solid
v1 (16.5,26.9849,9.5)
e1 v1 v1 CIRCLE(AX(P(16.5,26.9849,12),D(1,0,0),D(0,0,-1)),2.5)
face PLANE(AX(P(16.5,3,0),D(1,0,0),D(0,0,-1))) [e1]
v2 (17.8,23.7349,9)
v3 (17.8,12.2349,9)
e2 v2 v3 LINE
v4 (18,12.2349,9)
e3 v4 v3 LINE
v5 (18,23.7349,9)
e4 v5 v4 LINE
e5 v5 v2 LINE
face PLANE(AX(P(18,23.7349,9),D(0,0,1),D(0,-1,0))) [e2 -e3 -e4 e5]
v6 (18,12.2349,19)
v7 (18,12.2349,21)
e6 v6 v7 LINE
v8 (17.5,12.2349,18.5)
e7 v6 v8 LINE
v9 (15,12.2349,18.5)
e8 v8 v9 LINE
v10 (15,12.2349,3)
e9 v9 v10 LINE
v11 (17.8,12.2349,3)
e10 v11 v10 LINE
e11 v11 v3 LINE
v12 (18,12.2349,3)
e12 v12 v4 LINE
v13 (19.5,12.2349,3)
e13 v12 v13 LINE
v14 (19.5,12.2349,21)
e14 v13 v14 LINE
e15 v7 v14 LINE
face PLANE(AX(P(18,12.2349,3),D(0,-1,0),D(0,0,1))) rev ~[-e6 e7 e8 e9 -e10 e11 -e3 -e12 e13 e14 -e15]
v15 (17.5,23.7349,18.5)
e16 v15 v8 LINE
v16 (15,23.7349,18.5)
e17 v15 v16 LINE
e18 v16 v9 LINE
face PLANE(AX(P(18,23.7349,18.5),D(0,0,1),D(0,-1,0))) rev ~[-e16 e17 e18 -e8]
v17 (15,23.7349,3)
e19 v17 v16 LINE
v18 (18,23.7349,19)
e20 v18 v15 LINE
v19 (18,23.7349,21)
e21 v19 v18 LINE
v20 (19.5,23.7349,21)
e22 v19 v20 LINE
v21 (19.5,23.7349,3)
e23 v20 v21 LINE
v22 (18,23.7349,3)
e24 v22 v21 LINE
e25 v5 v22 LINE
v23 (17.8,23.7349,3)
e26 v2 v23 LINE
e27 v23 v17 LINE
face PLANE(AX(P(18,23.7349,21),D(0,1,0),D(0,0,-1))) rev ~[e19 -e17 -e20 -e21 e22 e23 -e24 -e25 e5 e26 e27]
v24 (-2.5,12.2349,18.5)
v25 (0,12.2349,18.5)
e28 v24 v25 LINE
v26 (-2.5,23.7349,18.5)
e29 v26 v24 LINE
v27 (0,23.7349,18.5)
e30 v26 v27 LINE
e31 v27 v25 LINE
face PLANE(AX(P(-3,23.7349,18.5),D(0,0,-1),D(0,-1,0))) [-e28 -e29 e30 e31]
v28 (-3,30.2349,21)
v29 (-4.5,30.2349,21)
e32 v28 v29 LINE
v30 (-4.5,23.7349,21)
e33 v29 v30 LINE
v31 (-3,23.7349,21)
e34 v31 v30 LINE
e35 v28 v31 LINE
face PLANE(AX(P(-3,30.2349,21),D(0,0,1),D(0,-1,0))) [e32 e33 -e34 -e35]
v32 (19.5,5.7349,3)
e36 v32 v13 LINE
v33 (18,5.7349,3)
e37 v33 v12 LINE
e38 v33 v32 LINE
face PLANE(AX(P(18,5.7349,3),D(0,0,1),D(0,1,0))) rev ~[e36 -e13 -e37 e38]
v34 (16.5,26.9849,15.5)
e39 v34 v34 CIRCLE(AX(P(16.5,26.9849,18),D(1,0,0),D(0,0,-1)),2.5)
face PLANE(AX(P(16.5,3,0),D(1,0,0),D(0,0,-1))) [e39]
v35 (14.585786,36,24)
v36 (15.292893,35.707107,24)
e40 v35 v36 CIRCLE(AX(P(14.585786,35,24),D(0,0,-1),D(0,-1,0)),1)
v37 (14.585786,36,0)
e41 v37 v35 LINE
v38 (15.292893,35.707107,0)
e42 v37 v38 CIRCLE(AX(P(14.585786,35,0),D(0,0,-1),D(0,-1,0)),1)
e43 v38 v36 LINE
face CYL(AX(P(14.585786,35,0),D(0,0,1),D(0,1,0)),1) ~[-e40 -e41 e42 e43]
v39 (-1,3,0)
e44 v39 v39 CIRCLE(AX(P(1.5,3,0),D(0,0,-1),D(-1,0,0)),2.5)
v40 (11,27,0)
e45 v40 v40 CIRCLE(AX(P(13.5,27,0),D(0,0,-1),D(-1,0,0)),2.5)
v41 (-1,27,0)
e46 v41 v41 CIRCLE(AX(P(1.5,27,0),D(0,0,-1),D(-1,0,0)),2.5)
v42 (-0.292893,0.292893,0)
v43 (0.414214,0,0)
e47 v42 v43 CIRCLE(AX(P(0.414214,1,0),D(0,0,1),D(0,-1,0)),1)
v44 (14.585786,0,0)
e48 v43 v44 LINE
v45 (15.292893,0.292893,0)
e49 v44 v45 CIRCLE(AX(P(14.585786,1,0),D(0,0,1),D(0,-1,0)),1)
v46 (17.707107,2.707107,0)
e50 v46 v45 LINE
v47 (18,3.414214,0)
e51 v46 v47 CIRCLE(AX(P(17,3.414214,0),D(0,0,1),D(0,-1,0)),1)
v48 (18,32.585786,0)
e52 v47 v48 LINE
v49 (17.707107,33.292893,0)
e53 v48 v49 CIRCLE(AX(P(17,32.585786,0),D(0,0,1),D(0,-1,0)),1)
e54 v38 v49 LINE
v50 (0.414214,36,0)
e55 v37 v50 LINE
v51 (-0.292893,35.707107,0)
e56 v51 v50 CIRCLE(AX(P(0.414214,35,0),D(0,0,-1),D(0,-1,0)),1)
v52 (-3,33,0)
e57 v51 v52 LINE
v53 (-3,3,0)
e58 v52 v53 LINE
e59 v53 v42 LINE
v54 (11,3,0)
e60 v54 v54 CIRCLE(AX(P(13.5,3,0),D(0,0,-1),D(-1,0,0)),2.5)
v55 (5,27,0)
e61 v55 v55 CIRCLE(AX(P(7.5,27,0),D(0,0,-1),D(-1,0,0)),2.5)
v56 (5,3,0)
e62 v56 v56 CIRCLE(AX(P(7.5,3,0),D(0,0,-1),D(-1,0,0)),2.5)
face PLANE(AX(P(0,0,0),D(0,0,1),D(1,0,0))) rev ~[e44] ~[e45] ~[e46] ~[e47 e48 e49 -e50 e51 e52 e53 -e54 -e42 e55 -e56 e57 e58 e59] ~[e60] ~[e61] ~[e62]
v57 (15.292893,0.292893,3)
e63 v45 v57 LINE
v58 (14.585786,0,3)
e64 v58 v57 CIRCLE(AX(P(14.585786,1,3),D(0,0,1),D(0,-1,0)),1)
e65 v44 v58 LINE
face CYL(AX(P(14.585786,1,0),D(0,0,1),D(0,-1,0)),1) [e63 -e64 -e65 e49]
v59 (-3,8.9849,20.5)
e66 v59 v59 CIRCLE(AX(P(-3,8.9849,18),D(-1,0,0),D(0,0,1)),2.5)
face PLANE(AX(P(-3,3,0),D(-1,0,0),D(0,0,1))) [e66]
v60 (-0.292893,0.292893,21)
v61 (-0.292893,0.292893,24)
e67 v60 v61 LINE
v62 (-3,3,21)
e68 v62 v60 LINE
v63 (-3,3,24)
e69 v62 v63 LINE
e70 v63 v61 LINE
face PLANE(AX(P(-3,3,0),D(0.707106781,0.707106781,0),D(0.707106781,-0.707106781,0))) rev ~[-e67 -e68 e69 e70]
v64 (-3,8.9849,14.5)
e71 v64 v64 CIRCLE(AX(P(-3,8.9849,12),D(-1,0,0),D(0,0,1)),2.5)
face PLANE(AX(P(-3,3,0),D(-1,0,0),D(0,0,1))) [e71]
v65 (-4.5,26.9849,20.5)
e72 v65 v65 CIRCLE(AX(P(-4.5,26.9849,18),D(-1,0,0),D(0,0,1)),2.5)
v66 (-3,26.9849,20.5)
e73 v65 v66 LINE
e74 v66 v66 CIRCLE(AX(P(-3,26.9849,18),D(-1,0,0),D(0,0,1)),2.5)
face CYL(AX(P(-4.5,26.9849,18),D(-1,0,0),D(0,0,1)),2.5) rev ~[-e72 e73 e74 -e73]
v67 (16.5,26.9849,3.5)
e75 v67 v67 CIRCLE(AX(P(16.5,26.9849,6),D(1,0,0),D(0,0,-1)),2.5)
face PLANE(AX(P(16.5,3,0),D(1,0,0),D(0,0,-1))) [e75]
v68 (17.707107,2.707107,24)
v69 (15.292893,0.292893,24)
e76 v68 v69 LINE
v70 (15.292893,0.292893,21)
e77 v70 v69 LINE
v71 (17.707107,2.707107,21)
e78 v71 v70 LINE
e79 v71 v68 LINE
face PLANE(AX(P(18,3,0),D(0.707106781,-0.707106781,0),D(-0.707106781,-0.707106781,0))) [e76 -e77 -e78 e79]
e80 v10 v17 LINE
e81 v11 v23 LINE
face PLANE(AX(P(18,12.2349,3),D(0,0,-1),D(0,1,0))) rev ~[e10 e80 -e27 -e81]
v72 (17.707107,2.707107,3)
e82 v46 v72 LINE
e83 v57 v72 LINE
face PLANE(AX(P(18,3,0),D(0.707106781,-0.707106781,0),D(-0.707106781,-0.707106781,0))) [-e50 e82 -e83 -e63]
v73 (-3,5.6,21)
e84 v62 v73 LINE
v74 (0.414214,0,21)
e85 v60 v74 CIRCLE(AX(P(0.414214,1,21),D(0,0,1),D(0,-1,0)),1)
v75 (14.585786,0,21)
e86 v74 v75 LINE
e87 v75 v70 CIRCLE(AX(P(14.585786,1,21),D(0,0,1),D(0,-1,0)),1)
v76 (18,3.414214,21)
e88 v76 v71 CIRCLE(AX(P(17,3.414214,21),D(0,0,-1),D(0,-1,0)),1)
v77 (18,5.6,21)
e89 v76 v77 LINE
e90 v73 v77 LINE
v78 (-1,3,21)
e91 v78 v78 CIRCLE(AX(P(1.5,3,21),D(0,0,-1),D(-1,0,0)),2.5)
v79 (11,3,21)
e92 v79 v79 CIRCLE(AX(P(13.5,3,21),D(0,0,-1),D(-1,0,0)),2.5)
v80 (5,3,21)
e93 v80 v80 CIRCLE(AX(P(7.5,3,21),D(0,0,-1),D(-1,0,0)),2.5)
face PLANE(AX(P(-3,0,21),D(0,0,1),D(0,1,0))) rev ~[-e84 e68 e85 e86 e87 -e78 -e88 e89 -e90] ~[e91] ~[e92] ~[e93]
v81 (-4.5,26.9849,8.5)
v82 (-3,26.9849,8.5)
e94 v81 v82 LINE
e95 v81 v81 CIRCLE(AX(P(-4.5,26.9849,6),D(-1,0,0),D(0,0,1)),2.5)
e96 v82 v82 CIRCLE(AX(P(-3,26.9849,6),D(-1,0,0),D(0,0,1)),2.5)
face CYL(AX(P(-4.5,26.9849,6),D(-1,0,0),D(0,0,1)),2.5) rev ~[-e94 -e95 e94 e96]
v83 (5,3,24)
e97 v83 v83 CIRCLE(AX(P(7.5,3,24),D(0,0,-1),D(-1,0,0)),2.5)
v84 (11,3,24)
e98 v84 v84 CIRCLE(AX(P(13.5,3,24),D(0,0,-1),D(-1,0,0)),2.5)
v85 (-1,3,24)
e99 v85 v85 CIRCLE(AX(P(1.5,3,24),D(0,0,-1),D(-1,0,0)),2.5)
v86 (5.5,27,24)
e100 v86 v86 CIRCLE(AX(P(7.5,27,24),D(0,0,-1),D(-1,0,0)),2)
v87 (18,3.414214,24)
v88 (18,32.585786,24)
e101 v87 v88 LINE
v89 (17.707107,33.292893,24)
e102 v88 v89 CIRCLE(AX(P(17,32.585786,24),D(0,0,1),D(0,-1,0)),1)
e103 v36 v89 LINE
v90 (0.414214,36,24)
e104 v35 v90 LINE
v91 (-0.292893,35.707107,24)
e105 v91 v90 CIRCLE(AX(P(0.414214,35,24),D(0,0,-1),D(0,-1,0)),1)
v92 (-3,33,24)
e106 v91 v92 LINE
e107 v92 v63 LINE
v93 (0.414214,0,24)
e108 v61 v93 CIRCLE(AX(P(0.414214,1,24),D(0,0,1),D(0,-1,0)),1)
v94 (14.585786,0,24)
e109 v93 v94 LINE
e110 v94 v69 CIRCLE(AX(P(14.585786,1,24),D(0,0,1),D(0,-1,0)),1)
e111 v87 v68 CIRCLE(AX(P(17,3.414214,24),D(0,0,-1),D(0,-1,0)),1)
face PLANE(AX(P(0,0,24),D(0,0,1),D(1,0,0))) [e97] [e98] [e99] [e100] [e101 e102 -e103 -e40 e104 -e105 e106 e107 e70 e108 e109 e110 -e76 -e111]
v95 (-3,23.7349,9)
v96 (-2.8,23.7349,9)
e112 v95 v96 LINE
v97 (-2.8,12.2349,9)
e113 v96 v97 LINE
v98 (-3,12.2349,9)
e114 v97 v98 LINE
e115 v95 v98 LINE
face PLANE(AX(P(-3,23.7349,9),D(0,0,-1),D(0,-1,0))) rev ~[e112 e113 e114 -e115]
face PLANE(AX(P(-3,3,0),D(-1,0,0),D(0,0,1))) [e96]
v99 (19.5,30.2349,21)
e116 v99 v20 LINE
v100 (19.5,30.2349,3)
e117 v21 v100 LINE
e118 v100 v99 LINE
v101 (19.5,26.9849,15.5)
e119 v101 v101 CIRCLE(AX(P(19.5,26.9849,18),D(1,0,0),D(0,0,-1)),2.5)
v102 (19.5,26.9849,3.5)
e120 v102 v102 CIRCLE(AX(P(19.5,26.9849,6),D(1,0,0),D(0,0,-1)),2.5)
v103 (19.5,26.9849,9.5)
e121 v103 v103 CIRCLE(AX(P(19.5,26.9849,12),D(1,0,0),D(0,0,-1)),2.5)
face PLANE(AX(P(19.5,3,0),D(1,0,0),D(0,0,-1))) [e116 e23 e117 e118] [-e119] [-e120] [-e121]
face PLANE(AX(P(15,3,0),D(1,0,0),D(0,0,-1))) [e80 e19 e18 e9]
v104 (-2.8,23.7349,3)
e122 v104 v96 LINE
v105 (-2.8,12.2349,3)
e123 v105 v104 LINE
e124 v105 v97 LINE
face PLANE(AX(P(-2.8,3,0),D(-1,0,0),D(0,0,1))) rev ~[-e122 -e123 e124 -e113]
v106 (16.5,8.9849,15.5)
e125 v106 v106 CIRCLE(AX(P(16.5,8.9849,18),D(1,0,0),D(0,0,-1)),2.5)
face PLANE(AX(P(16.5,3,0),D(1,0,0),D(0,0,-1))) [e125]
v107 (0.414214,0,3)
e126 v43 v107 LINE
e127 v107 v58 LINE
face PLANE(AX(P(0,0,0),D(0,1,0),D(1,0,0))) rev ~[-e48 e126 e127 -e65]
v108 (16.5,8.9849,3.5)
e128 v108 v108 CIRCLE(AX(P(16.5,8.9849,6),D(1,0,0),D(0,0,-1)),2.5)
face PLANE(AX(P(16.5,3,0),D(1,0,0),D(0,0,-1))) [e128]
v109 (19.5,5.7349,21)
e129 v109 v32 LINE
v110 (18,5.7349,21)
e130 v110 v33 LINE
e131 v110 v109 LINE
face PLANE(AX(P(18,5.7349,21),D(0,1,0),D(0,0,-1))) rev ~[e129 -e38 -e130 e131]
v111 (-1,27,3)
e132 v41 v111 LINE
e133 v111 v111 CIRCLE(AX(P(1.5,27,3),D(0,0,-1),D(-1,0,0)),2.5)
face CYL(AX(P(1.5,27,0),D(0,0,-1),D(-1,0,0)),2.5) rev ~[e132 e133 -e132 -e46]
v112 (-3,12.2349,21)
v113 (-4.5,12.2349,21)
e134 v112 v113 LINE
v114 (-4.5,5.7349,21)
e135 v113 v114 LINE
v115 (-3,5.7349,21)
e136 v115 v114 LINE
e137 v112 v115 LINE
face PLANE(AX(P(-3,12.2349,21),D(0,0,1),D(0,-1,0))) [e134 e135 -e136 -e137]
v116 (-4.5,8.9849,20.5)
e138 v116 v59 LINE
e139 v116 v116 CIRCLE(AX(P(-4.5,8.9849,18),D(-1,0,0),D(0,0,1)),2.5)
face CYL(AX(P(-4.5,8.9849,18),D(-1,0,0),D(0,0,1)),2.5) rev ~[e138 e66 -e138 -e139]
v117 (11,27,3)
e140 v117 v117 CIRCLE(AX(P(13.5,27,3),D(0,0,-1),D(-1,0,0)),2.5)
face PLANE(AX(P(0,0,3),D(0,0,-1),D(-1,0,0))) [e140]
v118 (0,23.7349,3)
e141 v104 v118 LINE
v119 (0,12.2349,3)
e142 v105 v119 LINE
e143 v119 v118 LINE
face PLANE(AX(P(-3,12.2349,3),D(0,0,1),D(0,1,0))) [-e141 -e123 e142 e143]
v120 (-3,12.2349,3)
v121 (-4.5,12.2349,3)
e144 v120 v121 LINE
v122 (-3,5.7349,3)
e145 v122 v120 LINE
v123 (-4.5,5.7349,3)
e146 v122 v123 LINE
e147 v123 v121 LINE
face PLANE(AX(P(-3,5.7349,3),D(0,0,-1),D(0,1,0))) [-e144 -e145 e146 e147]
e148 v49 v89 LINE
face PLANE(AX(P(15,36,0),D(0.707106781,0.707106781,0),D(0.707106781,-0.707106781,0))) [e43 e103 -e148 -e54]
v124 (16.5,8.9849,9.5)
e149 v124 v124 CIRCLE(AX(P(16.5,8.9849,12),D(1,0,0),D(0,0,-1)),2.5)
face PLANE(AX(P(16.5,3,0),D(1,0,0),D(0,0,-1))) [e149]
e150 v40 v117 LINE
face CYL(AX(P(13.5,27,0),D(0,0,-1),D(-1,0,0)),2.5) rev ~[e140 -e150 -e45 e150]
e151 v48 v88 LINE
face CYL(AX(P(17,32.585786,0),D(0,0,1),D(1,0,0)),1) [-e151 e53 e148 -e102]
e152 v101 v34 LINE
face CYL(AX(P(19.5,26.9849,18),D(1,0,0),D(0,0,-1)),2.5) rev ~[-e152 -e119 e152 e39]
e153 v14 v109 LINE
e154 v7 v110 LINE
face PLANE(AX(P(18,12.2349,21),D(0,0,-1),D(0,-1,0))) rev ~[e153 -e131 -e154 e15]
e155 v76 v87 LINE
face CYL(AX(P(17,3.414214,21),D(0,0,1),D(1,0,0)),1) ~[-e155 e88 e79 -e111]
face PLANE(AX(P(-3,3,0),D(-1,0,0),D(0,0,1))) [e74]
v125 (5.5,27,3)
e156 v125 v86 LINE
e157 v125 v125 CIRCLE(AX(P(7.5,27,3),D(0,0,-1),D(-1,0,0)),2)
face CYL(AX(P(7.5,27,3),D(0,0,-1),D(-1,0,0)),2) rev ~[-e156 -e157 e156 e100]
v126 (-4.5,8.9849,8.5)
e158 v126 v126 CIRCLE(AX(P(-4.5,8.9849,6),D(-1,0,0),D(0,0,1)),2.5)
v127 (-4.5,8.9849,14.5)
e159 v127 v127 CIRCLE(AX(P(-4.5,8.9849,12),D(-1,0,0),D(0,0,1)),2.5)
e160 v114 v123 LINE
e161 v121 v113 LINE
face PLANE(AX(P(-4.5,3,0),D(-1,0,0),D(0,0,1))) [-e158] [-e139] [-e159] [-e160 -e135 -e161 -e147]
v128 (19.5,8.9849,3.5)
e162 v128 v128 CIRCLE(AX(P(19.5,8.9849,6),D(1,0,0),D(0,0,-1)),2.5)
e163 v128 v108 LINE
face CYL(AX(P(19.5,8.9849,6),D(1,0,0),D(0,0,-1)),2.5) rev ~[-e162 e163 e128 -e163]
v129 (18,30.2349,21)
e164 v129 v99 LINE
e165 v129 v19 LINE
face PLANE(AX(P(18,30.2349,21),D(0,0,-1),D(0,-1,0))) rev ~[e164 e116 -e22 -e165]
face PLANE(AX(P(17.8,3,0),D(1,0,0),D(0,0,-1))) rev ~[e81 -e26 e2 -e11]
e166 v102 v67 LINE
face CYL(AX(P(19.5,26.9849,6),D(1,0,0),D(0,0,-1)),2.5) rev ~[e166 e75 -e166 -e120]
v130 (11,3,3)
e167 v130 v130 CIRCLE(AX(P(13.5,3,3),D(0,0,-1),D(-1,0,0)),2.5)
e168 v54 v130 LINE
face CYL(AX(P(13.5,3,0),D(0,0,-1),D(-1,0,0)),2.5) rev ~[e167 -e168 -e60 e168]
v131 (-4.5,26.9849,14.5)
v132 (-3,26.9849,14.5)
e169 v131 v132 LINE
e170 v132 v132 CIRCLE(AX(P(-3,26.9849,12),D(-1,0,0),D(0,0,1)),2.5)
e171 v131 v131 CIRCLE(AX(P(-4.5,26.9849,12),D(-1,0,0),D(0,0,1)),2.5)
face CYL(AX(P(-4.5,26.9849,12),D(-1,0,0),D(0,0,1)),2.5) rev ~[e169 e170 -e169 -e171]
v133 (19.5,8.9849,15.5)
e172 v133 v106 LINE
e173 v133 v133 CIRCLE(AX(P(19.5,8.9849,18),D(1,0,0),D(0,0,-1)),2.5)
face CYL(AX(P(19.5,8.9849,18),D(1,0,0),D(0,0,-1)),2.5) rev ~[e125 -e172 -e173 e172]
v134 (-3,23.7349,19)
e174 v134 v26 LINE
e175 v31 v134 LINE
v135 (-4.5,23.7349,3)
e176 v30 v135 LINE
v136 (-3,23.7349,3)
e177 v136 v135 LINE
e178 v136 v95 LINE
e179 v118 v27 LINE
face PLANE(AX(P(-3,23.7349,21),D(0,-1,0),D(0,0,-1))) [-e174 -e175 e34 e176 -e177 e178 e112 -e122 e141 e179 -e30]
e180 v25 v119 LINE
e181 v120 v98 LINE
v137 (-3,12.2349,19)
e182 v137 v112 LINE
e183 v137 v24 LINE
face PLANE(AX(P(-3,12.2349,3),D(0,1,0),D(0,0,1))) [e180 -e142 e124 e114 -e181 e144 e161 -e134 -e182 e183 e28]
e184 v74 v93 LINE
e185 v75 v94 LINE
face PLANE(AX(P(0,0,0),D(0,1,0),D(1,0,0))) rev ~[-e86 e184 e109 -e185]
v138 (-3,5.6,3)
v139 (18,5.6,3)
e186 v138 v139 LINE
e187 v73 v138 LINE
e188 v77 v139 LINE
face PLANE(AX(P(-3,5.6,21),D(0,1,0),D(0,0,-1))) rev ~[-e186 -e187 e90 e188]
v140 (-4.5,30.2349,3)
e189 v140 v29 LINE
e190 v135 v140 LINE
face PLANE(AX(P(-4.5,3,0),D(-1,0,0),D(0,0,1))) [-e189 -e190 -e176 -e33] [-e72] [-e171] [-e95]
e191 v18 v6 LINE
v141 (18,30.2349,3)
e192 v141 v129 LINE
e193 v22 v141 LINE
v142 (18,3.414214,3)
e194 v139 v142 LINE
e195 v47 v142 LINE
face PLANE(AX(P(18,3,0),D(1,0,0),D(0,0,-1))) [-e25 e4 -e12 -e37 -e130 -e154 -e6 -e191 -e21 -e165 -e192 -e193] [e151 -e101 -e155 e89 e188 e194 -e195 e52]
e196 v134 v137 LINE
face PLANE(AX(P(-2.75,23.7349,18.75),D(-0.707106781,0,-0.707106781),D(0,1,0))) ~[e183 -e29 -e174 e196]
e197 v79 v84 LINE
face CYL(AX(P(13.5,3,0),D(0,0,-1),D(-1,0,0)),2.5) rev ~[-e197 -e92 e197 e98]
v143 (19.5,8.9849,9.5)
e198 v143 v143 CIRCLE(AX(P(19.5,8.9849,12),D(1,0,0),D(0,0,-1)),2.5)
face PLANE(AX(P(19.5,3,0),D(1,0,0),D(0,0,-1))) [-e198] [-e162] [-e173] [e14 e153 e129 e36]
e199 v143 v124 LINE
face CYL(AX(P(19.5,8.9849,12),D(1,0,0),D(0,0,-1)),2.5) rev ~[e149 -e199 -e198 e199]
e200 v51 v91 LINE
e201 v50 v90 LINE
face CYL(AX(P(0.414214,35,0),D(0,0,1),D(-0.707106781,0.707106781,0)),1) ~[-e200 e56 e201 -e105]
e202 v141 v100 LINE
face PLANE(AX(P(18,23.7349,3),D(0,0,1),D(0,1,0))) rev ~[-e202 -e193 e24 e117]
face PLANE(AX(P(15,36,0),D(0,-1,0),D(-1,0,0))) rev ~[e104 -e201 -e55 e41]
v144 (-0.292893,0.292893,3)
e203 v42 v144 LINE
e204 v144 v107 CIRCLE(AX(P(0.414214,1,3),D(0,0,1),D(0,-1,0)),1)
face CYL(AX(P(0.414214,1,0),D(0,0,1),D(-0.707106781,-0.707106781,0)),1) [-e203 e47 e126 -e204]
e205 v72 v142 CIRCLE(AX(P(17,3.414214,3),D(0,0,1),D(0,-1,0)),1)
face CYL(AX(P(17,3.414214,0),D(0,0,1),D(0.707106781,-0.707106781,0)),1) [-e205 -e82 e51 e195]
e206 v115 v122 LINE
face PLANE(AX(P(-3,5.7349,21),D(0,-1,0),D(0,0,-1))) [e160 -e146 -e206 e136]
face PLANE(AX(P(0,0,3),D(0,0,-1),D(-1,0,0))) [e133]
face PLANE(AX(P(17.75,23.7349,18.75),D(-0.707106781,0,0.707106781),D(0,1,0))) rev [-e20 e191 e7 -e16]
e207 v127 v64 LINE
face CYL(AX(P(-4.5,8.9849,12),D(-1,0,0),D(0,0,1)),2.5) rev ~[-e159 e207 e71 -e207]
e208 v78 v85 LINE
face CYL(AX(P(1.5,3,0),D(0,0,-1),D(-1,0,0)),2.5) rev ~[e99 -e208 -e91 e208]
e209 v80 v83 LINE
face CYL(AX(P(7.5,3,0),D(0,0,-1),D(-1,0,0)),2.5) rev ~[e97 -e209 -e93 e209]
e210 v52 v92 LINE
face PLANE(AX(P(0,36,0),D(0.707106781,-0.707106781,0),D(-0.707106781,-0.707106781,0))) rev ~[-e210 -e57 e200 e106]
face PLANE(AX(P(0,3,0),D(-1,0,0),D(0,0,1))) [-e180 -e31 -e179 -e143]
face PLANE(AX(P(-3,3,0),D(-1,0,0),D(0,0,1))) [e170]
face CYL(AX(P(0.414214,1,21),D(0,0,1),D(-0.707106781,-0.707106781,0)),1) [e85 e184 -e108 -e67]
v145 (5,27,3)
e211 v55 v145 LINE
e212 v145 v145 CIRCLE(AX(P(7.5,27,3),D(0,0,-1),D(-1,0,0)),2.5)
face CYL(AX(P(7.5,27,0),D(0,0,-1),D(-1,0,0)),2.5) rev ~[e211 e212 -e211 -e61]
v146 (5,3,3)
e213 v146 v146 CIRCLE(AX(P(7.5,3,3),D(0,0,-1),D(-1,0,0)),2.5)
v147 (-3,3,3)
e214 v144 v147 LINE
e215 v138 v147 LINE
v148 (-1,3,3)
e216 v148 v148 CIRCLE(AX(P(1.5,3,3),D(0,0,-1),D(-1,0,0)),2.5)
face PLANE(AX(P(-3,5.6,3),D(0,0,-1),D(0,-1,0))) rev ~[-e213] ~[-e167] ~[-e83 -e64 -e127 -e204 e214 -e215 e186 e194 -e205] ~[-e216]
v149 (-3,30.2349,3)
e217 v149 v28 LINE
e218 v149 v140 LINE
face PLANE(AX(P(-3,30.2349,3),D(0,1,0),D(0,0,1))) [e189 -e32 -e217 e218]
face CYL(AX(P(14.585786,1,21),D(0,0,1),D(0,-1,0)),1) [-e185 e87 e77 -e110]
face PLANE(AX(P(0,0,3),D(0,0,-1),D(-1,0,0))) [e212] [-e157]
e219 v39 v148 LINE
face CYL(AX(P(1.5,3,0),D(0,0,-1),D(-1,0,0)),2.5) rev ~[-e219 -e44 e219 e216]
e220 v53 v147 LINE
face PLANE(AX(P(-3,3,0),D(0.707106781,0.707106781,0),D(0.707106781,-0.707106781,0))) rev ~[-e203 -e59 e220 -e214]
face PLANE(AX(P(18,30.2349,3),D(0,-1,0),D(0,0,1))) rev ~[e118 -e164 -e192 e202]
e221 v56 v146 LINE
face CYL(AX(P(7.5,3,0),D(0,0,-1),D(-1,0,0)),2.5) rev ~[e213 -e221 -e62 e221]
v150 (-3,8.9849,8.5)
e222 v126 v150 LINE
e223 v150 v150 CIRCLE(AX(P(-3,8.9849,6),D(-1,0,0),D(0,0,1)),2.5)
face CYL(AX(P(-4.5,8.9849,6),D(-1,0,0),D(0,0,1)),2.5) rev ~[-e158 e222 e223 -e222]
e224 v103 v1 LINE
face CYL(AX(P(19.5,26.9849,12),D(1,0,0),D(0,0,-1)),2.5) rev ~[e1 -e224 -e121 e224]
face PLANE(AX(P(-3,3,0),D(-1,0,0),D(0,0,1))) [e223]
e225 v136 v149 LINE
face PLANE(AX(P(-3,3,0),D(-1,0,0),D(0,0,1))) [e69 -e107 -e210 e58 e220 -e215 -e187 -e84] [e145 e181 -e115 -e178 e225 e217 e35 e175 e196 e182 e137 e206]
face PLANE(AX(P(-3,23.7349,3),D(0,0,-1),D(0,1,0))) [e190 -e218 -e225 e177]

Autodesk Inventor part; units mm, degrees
ref_plane "YZ Plane" through (0, 0, 0) normal (1, 0, 0) x (0, 1, 0)
ref_plane "XZ Plane" through (0, 0, 0) normal (0, 1, 0) x (-1, 0, 0)
ref_plane "XY Plane" through (0, 0, 0) normal (0, 0, 1) x (1, 0, 0)
sketch "Esquisse2" plane through (0, 0, 0) normal (0, 0, 1) x (1, 0, 0)
  line L0 (0, 0) -> (15, 0)
  line L1 (18, 3) -> (18, 33)
  line L2 (15, 36) -> (0, 36)
  line L3 (-3, 33) -> (-3, 3)
  line L4 (-3, 3) -> (0, 0)
  line L5 (0, 36) -> (-3, 33)
  line L6 (15, 36) -> (18, 33)
  line L7 (18, 3) -> (15, 0)
  line L8 (0, 36) -> (0, 0) construction
  line L9 (15, 0) -> (15, 36) construction
  line L10 (18, 33) -> (-3, 33) construction
  line L11 (18, 3) -> (-3, 3) construction
  dimension "d12" = 15
  dimension "d14" = 21
  dimension "d15" = 36
extrude "Extrusion1" add sketch "Esquisse2" along normal blind 24
sketch "Esquisse3" plane through (-3, 3, 0) normal (-1, 0, 0) x (0, 0, 1)
  line L0 (0, 0) -> (0, 30) construction
  line L1 (24, 30) -> (24, 0) construction
  line L2 (0, -3) -> (24, -3) construction
  line L3 (3, -3) -> (21, -3)
  line L4 (21, -3) -> (21, 2.6)
  line L5 (21, 2.6) -> (3, 2.6)
  line L6 (3, 2.6) -> (3, -3)
  line L7 (3, 2.6) -> (0, 2.6) construction
  line L8 (21, 2.6) -> (24, 2.6) construction
  dimension "d24" = 3
  dimension "d25" = 5.6
extrude "Extrusion2" cut sketch "Esquisse3" against normal through all
sketch "Esquisse4" plane through (0, 0, 0) normal (0, 0, -1) x (-1, 0, 0)
  line L0 (-15, 0) -> (0, 0) construction
  line L1 (0, 0) -> (3, 3) construction
  line L2 (0, 36) -> (-15, 36) construction
  circle A0 centre (-7.5, 3) radius 2.5
  line L3 (-15, 0) -> (-7.5, 3) construction
  line L4 (0, 0) -> (-7.5, 3) construction
  line L5 (-7.5, 3) -> (3, 3) construction
  circle A1 centre (-1.5, 3) radius 2.5
  circle A2 centre (-13.5, 3) radius 2.5
  circle A3 centre (-7.5, 3) radius 2.5
  dimension "d28" = 0.5
  dimension "d29" = 5
  dimension "d32" = 6
  dimension "d35" = 6
extrude "Extrusion3" cut sketch "Esquisse4" against normal through all
sketch "Esquisse5" plane through (0, 0, 0) normal (0, 0, -1) x (-1, 0, 0)
  circle A0 centre (-7.5, 3) radius 2.5 construction
  line L0 (3, 3) -> (3, 33) construction
  line L1 (0, 36) -> (-15, 36) construction
  line L2 (-7.5, 3) -> (-7.5, 36) construction
  circle A1 centre (-7.5, 27) radius 2.5
  line L3 (-7.5, 27) -> (3, 27) construction
  circle A2 centre (-1.5, 27) radius 2.5
  circle A3 centre (-13.5, 27) radius 2.5
  circle A4 centre (-7.5, 27) radius 2.5
  dimension "d40" = 5
  dimension "d41" = 24
  dimension "d44" = 6
  dimension "d47" = 6
extrude "Extrusion4" cut sketch "Esquisse5" against normal blind 3
sketch "Esquisse7" plane through (7.5, 27, 3) normal (0, 0, -1) x (-1, 0, 0)
  circle A0 centre (0, 0) radius 2.5 projected
  circle A1 centre (0, 0) radius 2
  point P0 (7.5, -27)
  dimension "d54" = 4
extrude "Extrusion6" cut sketch "Esquisse7" against normal through all contours A1
sketch "Esquisse8" plane through (18, 3, 0) normal (1, 0, 0) x (0, 0, -1)
  line L0 (0, 30) -> (0, 0) construction
  line L1 (0, 26.5) -> (0, 21.5) projected
  line L2 (-24, 21.4697) -> (-24, 26.4697) projected
  line L3 (-24, 23.9697) -> (0, 24) construction
  line L4 (-21, 20.7349) -> (-3, 20.7349)
  line L5 (-3, 20.7349) -> (-3, 27.2349)
  line L6 (-3, 27.2349) -> (-21, 27.2349)
  line L7 (-21, 27.2349) -> (-21, 20.7349)
  line L8 (-21, 20.7349) -> (-3, 27.2349) construction
  line L9 (-3, 20.7349) -> (-21, 27.2349) construction
  line L10 (-21, 2.6) -> (-3, 2.6) projected
  line L11 (-12, 23.9849) -> (-12, 2.6) construction
  line L12 (-21, 2.7349) -> (-3, 2.7349)
  line L13 (-3, 2.7349) -> (-3, 9.2349)
  line L14 (-3, 9.2349) -> (-21, 9.2349)
  line L15 (-21, 9.2349) -> (-21, 2.7349)
  point P0 (0, -3)
  dimension "d57" = 6.5
  dimension "d58" = 18
  dimension "d74" = 18
extrude "Extrusion7" add sketch "Esquisse8" along normal blind 1.5
sketch "Esquisse9" plane through (19.5, 3, 0) normal (1, 0, 0) x (0, 0, -1)
  line L0 (-3, 20.7349) -> (-3, 27.2349) construction
  line L1 (-21, 27.2349) -> (-21, 20.7349) construction
  line L2 (-21, 23.9849) -> (-3, 23.9849) construction
  circle A0 centre (-12, 23.9849) radius 2.5
  line L3 (-15, 23.9849) -> (3, 23.9849) construction
  circle A1 centre (-6, 23.9849) radius 2.5
  line L4 (-27, 23.9849) -> (-9, 23.9849) construction
  circle A2 centre (-18, 23.9849) radius 2.5
  line L5 (-21, 23.9849) -> (-3, 23.9849) construction
  circle A3 centre (-12, 23.9849) radius 2.5
  line L6 (-21, 20.7349) -> (-3, 20.7349) projected
  line L7 (-12, 23.9849) -> (-12, 11.4292) construction
  circle A4 centre (-12, 5.9849) radius 2.5
  circle A5 centre (-6, 5.9849) radius 2.5
  circle A6 centre (-18, 5.9849) radius 2.5
  point P0 (0, -3)
  dimension "d61" = 5
  dimension "d64" = 6
  dimension "d67" = 6
  dimension "d81" = 18
extrude "Extrusion8" cut sketch "Esquisse9" against normal blind 3
sketch "Esquisse10" plane through (-3, 3, 0) normal (-1, 0, 0) x (0, 0, 1)
  line L0 (3, 27.2349) -> (21, 27.2349) projected
  line L1 (21, 27.2349) -> (21, 20.7349) projected
  line L2 (21, 20.7349) -> (3, 20.7349) projected
  line L3 (3, 20.7349) -> (3, 27.2349) projected
  line L4 (21, 9.2349) -> (21, 2.7349) projected
  line L5 (21, 2.7349) -> (3, 2.7349) projected
  line L6 (3, 2.7349) -> (3, 9.2349) projected
  line L7 (3, 9.2349) -> (21, 9.2349) projected
  point P0 (0, -3)
extrude "Extrusion9" add sketch "Esquisse10" along normal blind 1.5
sketch "Esquisse11" plane through (-4.5, 3, 0) normal (-1, 0, 0) x (0, 0, 1)
  circle A0 centre (6, 23.9849) radius 2.5 projected
  circle A1 centre (12, 23.9849) radius 2.5 projected
  circle A2 centre (18, 23.9849) radius 2.5 projected
  circle A3 centre (18, 5.9849) radius 2.5 projected
  circle A4 centre (12, 5.9849) radius 2.5 projected
  circle A5 centre (6, 5.9849) radius 2.5 projected
  point P0 (0, -3)
extrude "Extrusion10" cut sketch "Esquisse11" against normal blind 1.5
sketch "Esquisse13" plane through (18, 3, 0) normal (1, 0, 0) x (0, 0, -1)
  line L0 (-21, 9.2349) -> (-3, 9.2349) projected
  line L1 (-3, 20.7349) -> (-18.5, 20.7349)
  line L2 (-18.5, 20.7349) -> (-18.5, 9.2349)
  line L3 (-18.5, 9.2349) -> (-3, 9.2349)
  line L4 (-3, 9.2349) -> (-3, 20.7349)
  point P0 (0, -3)
  dimension "d90" = 15.5
extrude "Extrusion11" cut sketch "Esquisse13" against normal blind 3
sketch "Esquisse14" plane through (18, 3, 0) normal (1, 0, 0) x (0, 0, -1)
  line L0 (-21, 20.7349) -> (-3, 20.7349) projected
  line L1 (-3, 9.2349) -> (-21, 9.2349) projected
  line L2 (-3, 20.7349) -> (-9, 20.7349)
  line L3 (-9, 20.7349) -> (-9, 9.2349)
  line L4 (-9, 9.2349) -> (-3, 9.2349)
  line L5 (-3, 9.2349) -> (-3, 20.7349)
  point P0 (0, -3)
  dimension "d93" = 6
extrude "Extrusion12" add sketch "Esquisse14" against normal blind 0.2
sketch "Esquisse16" plane through (-3, 3, 0) normal (-1, 0, 0) x (0, 0, 1)
  line L0 (3, 9.2349) -> (21, 9.2349) construction
  line L1 (3, 20.7349) -> (18.5, 20.7349)
  line L2 (18.5, 20.7349) -> (18.5, 9.2349)
  line L3 (18.5, 9.2349) -> (3, 9.2349)
  line L4 (3, 9.2349) -> (3, 20.7349)
  point P0 (0, -3)
  dimension "d96" = 15.5
extrude "Extrusion13" cut sketch "Esquisse16" against normal blind 3
sketch "Esquisse17" plane through (-3, 3, 0) normal (-1, 0, 0) x (0, 0, 1)
  line L0 (3, 20.7349) -> (9, 20.7349)
  line L1 (9, 20.7349) -> (9, 9.2197)
  line L2 (9, 9.2197) -> (3, 9.2197)
  line L3 (3, 9.2197) -> (3, 20.7349)
  line L4 (3, 9.2349) -> (3, 20.7349) projected
  point P0 (0, -3)
  dimension "d99" = 6
extrude "Extrusion14" add sketch "Esquisse17" against normal blind 0.2
fillet "Congé1" radius 1 9 edges at (18, 33, 12) (15, 36, 12) (0, 36, 12) (0, 0, 1.5) (0, 0, 22.5) (15, 0, 1.5) (18, 3, 1.5) (15, 0, 22.5) (18, 3, 22.5)
chamfer "Chanfrein1" distance 0.5 angle 45 2 edges at (-3, 17.9849, 18.5) (18, 17.9849, 18.5)
properties part number "XL320"
